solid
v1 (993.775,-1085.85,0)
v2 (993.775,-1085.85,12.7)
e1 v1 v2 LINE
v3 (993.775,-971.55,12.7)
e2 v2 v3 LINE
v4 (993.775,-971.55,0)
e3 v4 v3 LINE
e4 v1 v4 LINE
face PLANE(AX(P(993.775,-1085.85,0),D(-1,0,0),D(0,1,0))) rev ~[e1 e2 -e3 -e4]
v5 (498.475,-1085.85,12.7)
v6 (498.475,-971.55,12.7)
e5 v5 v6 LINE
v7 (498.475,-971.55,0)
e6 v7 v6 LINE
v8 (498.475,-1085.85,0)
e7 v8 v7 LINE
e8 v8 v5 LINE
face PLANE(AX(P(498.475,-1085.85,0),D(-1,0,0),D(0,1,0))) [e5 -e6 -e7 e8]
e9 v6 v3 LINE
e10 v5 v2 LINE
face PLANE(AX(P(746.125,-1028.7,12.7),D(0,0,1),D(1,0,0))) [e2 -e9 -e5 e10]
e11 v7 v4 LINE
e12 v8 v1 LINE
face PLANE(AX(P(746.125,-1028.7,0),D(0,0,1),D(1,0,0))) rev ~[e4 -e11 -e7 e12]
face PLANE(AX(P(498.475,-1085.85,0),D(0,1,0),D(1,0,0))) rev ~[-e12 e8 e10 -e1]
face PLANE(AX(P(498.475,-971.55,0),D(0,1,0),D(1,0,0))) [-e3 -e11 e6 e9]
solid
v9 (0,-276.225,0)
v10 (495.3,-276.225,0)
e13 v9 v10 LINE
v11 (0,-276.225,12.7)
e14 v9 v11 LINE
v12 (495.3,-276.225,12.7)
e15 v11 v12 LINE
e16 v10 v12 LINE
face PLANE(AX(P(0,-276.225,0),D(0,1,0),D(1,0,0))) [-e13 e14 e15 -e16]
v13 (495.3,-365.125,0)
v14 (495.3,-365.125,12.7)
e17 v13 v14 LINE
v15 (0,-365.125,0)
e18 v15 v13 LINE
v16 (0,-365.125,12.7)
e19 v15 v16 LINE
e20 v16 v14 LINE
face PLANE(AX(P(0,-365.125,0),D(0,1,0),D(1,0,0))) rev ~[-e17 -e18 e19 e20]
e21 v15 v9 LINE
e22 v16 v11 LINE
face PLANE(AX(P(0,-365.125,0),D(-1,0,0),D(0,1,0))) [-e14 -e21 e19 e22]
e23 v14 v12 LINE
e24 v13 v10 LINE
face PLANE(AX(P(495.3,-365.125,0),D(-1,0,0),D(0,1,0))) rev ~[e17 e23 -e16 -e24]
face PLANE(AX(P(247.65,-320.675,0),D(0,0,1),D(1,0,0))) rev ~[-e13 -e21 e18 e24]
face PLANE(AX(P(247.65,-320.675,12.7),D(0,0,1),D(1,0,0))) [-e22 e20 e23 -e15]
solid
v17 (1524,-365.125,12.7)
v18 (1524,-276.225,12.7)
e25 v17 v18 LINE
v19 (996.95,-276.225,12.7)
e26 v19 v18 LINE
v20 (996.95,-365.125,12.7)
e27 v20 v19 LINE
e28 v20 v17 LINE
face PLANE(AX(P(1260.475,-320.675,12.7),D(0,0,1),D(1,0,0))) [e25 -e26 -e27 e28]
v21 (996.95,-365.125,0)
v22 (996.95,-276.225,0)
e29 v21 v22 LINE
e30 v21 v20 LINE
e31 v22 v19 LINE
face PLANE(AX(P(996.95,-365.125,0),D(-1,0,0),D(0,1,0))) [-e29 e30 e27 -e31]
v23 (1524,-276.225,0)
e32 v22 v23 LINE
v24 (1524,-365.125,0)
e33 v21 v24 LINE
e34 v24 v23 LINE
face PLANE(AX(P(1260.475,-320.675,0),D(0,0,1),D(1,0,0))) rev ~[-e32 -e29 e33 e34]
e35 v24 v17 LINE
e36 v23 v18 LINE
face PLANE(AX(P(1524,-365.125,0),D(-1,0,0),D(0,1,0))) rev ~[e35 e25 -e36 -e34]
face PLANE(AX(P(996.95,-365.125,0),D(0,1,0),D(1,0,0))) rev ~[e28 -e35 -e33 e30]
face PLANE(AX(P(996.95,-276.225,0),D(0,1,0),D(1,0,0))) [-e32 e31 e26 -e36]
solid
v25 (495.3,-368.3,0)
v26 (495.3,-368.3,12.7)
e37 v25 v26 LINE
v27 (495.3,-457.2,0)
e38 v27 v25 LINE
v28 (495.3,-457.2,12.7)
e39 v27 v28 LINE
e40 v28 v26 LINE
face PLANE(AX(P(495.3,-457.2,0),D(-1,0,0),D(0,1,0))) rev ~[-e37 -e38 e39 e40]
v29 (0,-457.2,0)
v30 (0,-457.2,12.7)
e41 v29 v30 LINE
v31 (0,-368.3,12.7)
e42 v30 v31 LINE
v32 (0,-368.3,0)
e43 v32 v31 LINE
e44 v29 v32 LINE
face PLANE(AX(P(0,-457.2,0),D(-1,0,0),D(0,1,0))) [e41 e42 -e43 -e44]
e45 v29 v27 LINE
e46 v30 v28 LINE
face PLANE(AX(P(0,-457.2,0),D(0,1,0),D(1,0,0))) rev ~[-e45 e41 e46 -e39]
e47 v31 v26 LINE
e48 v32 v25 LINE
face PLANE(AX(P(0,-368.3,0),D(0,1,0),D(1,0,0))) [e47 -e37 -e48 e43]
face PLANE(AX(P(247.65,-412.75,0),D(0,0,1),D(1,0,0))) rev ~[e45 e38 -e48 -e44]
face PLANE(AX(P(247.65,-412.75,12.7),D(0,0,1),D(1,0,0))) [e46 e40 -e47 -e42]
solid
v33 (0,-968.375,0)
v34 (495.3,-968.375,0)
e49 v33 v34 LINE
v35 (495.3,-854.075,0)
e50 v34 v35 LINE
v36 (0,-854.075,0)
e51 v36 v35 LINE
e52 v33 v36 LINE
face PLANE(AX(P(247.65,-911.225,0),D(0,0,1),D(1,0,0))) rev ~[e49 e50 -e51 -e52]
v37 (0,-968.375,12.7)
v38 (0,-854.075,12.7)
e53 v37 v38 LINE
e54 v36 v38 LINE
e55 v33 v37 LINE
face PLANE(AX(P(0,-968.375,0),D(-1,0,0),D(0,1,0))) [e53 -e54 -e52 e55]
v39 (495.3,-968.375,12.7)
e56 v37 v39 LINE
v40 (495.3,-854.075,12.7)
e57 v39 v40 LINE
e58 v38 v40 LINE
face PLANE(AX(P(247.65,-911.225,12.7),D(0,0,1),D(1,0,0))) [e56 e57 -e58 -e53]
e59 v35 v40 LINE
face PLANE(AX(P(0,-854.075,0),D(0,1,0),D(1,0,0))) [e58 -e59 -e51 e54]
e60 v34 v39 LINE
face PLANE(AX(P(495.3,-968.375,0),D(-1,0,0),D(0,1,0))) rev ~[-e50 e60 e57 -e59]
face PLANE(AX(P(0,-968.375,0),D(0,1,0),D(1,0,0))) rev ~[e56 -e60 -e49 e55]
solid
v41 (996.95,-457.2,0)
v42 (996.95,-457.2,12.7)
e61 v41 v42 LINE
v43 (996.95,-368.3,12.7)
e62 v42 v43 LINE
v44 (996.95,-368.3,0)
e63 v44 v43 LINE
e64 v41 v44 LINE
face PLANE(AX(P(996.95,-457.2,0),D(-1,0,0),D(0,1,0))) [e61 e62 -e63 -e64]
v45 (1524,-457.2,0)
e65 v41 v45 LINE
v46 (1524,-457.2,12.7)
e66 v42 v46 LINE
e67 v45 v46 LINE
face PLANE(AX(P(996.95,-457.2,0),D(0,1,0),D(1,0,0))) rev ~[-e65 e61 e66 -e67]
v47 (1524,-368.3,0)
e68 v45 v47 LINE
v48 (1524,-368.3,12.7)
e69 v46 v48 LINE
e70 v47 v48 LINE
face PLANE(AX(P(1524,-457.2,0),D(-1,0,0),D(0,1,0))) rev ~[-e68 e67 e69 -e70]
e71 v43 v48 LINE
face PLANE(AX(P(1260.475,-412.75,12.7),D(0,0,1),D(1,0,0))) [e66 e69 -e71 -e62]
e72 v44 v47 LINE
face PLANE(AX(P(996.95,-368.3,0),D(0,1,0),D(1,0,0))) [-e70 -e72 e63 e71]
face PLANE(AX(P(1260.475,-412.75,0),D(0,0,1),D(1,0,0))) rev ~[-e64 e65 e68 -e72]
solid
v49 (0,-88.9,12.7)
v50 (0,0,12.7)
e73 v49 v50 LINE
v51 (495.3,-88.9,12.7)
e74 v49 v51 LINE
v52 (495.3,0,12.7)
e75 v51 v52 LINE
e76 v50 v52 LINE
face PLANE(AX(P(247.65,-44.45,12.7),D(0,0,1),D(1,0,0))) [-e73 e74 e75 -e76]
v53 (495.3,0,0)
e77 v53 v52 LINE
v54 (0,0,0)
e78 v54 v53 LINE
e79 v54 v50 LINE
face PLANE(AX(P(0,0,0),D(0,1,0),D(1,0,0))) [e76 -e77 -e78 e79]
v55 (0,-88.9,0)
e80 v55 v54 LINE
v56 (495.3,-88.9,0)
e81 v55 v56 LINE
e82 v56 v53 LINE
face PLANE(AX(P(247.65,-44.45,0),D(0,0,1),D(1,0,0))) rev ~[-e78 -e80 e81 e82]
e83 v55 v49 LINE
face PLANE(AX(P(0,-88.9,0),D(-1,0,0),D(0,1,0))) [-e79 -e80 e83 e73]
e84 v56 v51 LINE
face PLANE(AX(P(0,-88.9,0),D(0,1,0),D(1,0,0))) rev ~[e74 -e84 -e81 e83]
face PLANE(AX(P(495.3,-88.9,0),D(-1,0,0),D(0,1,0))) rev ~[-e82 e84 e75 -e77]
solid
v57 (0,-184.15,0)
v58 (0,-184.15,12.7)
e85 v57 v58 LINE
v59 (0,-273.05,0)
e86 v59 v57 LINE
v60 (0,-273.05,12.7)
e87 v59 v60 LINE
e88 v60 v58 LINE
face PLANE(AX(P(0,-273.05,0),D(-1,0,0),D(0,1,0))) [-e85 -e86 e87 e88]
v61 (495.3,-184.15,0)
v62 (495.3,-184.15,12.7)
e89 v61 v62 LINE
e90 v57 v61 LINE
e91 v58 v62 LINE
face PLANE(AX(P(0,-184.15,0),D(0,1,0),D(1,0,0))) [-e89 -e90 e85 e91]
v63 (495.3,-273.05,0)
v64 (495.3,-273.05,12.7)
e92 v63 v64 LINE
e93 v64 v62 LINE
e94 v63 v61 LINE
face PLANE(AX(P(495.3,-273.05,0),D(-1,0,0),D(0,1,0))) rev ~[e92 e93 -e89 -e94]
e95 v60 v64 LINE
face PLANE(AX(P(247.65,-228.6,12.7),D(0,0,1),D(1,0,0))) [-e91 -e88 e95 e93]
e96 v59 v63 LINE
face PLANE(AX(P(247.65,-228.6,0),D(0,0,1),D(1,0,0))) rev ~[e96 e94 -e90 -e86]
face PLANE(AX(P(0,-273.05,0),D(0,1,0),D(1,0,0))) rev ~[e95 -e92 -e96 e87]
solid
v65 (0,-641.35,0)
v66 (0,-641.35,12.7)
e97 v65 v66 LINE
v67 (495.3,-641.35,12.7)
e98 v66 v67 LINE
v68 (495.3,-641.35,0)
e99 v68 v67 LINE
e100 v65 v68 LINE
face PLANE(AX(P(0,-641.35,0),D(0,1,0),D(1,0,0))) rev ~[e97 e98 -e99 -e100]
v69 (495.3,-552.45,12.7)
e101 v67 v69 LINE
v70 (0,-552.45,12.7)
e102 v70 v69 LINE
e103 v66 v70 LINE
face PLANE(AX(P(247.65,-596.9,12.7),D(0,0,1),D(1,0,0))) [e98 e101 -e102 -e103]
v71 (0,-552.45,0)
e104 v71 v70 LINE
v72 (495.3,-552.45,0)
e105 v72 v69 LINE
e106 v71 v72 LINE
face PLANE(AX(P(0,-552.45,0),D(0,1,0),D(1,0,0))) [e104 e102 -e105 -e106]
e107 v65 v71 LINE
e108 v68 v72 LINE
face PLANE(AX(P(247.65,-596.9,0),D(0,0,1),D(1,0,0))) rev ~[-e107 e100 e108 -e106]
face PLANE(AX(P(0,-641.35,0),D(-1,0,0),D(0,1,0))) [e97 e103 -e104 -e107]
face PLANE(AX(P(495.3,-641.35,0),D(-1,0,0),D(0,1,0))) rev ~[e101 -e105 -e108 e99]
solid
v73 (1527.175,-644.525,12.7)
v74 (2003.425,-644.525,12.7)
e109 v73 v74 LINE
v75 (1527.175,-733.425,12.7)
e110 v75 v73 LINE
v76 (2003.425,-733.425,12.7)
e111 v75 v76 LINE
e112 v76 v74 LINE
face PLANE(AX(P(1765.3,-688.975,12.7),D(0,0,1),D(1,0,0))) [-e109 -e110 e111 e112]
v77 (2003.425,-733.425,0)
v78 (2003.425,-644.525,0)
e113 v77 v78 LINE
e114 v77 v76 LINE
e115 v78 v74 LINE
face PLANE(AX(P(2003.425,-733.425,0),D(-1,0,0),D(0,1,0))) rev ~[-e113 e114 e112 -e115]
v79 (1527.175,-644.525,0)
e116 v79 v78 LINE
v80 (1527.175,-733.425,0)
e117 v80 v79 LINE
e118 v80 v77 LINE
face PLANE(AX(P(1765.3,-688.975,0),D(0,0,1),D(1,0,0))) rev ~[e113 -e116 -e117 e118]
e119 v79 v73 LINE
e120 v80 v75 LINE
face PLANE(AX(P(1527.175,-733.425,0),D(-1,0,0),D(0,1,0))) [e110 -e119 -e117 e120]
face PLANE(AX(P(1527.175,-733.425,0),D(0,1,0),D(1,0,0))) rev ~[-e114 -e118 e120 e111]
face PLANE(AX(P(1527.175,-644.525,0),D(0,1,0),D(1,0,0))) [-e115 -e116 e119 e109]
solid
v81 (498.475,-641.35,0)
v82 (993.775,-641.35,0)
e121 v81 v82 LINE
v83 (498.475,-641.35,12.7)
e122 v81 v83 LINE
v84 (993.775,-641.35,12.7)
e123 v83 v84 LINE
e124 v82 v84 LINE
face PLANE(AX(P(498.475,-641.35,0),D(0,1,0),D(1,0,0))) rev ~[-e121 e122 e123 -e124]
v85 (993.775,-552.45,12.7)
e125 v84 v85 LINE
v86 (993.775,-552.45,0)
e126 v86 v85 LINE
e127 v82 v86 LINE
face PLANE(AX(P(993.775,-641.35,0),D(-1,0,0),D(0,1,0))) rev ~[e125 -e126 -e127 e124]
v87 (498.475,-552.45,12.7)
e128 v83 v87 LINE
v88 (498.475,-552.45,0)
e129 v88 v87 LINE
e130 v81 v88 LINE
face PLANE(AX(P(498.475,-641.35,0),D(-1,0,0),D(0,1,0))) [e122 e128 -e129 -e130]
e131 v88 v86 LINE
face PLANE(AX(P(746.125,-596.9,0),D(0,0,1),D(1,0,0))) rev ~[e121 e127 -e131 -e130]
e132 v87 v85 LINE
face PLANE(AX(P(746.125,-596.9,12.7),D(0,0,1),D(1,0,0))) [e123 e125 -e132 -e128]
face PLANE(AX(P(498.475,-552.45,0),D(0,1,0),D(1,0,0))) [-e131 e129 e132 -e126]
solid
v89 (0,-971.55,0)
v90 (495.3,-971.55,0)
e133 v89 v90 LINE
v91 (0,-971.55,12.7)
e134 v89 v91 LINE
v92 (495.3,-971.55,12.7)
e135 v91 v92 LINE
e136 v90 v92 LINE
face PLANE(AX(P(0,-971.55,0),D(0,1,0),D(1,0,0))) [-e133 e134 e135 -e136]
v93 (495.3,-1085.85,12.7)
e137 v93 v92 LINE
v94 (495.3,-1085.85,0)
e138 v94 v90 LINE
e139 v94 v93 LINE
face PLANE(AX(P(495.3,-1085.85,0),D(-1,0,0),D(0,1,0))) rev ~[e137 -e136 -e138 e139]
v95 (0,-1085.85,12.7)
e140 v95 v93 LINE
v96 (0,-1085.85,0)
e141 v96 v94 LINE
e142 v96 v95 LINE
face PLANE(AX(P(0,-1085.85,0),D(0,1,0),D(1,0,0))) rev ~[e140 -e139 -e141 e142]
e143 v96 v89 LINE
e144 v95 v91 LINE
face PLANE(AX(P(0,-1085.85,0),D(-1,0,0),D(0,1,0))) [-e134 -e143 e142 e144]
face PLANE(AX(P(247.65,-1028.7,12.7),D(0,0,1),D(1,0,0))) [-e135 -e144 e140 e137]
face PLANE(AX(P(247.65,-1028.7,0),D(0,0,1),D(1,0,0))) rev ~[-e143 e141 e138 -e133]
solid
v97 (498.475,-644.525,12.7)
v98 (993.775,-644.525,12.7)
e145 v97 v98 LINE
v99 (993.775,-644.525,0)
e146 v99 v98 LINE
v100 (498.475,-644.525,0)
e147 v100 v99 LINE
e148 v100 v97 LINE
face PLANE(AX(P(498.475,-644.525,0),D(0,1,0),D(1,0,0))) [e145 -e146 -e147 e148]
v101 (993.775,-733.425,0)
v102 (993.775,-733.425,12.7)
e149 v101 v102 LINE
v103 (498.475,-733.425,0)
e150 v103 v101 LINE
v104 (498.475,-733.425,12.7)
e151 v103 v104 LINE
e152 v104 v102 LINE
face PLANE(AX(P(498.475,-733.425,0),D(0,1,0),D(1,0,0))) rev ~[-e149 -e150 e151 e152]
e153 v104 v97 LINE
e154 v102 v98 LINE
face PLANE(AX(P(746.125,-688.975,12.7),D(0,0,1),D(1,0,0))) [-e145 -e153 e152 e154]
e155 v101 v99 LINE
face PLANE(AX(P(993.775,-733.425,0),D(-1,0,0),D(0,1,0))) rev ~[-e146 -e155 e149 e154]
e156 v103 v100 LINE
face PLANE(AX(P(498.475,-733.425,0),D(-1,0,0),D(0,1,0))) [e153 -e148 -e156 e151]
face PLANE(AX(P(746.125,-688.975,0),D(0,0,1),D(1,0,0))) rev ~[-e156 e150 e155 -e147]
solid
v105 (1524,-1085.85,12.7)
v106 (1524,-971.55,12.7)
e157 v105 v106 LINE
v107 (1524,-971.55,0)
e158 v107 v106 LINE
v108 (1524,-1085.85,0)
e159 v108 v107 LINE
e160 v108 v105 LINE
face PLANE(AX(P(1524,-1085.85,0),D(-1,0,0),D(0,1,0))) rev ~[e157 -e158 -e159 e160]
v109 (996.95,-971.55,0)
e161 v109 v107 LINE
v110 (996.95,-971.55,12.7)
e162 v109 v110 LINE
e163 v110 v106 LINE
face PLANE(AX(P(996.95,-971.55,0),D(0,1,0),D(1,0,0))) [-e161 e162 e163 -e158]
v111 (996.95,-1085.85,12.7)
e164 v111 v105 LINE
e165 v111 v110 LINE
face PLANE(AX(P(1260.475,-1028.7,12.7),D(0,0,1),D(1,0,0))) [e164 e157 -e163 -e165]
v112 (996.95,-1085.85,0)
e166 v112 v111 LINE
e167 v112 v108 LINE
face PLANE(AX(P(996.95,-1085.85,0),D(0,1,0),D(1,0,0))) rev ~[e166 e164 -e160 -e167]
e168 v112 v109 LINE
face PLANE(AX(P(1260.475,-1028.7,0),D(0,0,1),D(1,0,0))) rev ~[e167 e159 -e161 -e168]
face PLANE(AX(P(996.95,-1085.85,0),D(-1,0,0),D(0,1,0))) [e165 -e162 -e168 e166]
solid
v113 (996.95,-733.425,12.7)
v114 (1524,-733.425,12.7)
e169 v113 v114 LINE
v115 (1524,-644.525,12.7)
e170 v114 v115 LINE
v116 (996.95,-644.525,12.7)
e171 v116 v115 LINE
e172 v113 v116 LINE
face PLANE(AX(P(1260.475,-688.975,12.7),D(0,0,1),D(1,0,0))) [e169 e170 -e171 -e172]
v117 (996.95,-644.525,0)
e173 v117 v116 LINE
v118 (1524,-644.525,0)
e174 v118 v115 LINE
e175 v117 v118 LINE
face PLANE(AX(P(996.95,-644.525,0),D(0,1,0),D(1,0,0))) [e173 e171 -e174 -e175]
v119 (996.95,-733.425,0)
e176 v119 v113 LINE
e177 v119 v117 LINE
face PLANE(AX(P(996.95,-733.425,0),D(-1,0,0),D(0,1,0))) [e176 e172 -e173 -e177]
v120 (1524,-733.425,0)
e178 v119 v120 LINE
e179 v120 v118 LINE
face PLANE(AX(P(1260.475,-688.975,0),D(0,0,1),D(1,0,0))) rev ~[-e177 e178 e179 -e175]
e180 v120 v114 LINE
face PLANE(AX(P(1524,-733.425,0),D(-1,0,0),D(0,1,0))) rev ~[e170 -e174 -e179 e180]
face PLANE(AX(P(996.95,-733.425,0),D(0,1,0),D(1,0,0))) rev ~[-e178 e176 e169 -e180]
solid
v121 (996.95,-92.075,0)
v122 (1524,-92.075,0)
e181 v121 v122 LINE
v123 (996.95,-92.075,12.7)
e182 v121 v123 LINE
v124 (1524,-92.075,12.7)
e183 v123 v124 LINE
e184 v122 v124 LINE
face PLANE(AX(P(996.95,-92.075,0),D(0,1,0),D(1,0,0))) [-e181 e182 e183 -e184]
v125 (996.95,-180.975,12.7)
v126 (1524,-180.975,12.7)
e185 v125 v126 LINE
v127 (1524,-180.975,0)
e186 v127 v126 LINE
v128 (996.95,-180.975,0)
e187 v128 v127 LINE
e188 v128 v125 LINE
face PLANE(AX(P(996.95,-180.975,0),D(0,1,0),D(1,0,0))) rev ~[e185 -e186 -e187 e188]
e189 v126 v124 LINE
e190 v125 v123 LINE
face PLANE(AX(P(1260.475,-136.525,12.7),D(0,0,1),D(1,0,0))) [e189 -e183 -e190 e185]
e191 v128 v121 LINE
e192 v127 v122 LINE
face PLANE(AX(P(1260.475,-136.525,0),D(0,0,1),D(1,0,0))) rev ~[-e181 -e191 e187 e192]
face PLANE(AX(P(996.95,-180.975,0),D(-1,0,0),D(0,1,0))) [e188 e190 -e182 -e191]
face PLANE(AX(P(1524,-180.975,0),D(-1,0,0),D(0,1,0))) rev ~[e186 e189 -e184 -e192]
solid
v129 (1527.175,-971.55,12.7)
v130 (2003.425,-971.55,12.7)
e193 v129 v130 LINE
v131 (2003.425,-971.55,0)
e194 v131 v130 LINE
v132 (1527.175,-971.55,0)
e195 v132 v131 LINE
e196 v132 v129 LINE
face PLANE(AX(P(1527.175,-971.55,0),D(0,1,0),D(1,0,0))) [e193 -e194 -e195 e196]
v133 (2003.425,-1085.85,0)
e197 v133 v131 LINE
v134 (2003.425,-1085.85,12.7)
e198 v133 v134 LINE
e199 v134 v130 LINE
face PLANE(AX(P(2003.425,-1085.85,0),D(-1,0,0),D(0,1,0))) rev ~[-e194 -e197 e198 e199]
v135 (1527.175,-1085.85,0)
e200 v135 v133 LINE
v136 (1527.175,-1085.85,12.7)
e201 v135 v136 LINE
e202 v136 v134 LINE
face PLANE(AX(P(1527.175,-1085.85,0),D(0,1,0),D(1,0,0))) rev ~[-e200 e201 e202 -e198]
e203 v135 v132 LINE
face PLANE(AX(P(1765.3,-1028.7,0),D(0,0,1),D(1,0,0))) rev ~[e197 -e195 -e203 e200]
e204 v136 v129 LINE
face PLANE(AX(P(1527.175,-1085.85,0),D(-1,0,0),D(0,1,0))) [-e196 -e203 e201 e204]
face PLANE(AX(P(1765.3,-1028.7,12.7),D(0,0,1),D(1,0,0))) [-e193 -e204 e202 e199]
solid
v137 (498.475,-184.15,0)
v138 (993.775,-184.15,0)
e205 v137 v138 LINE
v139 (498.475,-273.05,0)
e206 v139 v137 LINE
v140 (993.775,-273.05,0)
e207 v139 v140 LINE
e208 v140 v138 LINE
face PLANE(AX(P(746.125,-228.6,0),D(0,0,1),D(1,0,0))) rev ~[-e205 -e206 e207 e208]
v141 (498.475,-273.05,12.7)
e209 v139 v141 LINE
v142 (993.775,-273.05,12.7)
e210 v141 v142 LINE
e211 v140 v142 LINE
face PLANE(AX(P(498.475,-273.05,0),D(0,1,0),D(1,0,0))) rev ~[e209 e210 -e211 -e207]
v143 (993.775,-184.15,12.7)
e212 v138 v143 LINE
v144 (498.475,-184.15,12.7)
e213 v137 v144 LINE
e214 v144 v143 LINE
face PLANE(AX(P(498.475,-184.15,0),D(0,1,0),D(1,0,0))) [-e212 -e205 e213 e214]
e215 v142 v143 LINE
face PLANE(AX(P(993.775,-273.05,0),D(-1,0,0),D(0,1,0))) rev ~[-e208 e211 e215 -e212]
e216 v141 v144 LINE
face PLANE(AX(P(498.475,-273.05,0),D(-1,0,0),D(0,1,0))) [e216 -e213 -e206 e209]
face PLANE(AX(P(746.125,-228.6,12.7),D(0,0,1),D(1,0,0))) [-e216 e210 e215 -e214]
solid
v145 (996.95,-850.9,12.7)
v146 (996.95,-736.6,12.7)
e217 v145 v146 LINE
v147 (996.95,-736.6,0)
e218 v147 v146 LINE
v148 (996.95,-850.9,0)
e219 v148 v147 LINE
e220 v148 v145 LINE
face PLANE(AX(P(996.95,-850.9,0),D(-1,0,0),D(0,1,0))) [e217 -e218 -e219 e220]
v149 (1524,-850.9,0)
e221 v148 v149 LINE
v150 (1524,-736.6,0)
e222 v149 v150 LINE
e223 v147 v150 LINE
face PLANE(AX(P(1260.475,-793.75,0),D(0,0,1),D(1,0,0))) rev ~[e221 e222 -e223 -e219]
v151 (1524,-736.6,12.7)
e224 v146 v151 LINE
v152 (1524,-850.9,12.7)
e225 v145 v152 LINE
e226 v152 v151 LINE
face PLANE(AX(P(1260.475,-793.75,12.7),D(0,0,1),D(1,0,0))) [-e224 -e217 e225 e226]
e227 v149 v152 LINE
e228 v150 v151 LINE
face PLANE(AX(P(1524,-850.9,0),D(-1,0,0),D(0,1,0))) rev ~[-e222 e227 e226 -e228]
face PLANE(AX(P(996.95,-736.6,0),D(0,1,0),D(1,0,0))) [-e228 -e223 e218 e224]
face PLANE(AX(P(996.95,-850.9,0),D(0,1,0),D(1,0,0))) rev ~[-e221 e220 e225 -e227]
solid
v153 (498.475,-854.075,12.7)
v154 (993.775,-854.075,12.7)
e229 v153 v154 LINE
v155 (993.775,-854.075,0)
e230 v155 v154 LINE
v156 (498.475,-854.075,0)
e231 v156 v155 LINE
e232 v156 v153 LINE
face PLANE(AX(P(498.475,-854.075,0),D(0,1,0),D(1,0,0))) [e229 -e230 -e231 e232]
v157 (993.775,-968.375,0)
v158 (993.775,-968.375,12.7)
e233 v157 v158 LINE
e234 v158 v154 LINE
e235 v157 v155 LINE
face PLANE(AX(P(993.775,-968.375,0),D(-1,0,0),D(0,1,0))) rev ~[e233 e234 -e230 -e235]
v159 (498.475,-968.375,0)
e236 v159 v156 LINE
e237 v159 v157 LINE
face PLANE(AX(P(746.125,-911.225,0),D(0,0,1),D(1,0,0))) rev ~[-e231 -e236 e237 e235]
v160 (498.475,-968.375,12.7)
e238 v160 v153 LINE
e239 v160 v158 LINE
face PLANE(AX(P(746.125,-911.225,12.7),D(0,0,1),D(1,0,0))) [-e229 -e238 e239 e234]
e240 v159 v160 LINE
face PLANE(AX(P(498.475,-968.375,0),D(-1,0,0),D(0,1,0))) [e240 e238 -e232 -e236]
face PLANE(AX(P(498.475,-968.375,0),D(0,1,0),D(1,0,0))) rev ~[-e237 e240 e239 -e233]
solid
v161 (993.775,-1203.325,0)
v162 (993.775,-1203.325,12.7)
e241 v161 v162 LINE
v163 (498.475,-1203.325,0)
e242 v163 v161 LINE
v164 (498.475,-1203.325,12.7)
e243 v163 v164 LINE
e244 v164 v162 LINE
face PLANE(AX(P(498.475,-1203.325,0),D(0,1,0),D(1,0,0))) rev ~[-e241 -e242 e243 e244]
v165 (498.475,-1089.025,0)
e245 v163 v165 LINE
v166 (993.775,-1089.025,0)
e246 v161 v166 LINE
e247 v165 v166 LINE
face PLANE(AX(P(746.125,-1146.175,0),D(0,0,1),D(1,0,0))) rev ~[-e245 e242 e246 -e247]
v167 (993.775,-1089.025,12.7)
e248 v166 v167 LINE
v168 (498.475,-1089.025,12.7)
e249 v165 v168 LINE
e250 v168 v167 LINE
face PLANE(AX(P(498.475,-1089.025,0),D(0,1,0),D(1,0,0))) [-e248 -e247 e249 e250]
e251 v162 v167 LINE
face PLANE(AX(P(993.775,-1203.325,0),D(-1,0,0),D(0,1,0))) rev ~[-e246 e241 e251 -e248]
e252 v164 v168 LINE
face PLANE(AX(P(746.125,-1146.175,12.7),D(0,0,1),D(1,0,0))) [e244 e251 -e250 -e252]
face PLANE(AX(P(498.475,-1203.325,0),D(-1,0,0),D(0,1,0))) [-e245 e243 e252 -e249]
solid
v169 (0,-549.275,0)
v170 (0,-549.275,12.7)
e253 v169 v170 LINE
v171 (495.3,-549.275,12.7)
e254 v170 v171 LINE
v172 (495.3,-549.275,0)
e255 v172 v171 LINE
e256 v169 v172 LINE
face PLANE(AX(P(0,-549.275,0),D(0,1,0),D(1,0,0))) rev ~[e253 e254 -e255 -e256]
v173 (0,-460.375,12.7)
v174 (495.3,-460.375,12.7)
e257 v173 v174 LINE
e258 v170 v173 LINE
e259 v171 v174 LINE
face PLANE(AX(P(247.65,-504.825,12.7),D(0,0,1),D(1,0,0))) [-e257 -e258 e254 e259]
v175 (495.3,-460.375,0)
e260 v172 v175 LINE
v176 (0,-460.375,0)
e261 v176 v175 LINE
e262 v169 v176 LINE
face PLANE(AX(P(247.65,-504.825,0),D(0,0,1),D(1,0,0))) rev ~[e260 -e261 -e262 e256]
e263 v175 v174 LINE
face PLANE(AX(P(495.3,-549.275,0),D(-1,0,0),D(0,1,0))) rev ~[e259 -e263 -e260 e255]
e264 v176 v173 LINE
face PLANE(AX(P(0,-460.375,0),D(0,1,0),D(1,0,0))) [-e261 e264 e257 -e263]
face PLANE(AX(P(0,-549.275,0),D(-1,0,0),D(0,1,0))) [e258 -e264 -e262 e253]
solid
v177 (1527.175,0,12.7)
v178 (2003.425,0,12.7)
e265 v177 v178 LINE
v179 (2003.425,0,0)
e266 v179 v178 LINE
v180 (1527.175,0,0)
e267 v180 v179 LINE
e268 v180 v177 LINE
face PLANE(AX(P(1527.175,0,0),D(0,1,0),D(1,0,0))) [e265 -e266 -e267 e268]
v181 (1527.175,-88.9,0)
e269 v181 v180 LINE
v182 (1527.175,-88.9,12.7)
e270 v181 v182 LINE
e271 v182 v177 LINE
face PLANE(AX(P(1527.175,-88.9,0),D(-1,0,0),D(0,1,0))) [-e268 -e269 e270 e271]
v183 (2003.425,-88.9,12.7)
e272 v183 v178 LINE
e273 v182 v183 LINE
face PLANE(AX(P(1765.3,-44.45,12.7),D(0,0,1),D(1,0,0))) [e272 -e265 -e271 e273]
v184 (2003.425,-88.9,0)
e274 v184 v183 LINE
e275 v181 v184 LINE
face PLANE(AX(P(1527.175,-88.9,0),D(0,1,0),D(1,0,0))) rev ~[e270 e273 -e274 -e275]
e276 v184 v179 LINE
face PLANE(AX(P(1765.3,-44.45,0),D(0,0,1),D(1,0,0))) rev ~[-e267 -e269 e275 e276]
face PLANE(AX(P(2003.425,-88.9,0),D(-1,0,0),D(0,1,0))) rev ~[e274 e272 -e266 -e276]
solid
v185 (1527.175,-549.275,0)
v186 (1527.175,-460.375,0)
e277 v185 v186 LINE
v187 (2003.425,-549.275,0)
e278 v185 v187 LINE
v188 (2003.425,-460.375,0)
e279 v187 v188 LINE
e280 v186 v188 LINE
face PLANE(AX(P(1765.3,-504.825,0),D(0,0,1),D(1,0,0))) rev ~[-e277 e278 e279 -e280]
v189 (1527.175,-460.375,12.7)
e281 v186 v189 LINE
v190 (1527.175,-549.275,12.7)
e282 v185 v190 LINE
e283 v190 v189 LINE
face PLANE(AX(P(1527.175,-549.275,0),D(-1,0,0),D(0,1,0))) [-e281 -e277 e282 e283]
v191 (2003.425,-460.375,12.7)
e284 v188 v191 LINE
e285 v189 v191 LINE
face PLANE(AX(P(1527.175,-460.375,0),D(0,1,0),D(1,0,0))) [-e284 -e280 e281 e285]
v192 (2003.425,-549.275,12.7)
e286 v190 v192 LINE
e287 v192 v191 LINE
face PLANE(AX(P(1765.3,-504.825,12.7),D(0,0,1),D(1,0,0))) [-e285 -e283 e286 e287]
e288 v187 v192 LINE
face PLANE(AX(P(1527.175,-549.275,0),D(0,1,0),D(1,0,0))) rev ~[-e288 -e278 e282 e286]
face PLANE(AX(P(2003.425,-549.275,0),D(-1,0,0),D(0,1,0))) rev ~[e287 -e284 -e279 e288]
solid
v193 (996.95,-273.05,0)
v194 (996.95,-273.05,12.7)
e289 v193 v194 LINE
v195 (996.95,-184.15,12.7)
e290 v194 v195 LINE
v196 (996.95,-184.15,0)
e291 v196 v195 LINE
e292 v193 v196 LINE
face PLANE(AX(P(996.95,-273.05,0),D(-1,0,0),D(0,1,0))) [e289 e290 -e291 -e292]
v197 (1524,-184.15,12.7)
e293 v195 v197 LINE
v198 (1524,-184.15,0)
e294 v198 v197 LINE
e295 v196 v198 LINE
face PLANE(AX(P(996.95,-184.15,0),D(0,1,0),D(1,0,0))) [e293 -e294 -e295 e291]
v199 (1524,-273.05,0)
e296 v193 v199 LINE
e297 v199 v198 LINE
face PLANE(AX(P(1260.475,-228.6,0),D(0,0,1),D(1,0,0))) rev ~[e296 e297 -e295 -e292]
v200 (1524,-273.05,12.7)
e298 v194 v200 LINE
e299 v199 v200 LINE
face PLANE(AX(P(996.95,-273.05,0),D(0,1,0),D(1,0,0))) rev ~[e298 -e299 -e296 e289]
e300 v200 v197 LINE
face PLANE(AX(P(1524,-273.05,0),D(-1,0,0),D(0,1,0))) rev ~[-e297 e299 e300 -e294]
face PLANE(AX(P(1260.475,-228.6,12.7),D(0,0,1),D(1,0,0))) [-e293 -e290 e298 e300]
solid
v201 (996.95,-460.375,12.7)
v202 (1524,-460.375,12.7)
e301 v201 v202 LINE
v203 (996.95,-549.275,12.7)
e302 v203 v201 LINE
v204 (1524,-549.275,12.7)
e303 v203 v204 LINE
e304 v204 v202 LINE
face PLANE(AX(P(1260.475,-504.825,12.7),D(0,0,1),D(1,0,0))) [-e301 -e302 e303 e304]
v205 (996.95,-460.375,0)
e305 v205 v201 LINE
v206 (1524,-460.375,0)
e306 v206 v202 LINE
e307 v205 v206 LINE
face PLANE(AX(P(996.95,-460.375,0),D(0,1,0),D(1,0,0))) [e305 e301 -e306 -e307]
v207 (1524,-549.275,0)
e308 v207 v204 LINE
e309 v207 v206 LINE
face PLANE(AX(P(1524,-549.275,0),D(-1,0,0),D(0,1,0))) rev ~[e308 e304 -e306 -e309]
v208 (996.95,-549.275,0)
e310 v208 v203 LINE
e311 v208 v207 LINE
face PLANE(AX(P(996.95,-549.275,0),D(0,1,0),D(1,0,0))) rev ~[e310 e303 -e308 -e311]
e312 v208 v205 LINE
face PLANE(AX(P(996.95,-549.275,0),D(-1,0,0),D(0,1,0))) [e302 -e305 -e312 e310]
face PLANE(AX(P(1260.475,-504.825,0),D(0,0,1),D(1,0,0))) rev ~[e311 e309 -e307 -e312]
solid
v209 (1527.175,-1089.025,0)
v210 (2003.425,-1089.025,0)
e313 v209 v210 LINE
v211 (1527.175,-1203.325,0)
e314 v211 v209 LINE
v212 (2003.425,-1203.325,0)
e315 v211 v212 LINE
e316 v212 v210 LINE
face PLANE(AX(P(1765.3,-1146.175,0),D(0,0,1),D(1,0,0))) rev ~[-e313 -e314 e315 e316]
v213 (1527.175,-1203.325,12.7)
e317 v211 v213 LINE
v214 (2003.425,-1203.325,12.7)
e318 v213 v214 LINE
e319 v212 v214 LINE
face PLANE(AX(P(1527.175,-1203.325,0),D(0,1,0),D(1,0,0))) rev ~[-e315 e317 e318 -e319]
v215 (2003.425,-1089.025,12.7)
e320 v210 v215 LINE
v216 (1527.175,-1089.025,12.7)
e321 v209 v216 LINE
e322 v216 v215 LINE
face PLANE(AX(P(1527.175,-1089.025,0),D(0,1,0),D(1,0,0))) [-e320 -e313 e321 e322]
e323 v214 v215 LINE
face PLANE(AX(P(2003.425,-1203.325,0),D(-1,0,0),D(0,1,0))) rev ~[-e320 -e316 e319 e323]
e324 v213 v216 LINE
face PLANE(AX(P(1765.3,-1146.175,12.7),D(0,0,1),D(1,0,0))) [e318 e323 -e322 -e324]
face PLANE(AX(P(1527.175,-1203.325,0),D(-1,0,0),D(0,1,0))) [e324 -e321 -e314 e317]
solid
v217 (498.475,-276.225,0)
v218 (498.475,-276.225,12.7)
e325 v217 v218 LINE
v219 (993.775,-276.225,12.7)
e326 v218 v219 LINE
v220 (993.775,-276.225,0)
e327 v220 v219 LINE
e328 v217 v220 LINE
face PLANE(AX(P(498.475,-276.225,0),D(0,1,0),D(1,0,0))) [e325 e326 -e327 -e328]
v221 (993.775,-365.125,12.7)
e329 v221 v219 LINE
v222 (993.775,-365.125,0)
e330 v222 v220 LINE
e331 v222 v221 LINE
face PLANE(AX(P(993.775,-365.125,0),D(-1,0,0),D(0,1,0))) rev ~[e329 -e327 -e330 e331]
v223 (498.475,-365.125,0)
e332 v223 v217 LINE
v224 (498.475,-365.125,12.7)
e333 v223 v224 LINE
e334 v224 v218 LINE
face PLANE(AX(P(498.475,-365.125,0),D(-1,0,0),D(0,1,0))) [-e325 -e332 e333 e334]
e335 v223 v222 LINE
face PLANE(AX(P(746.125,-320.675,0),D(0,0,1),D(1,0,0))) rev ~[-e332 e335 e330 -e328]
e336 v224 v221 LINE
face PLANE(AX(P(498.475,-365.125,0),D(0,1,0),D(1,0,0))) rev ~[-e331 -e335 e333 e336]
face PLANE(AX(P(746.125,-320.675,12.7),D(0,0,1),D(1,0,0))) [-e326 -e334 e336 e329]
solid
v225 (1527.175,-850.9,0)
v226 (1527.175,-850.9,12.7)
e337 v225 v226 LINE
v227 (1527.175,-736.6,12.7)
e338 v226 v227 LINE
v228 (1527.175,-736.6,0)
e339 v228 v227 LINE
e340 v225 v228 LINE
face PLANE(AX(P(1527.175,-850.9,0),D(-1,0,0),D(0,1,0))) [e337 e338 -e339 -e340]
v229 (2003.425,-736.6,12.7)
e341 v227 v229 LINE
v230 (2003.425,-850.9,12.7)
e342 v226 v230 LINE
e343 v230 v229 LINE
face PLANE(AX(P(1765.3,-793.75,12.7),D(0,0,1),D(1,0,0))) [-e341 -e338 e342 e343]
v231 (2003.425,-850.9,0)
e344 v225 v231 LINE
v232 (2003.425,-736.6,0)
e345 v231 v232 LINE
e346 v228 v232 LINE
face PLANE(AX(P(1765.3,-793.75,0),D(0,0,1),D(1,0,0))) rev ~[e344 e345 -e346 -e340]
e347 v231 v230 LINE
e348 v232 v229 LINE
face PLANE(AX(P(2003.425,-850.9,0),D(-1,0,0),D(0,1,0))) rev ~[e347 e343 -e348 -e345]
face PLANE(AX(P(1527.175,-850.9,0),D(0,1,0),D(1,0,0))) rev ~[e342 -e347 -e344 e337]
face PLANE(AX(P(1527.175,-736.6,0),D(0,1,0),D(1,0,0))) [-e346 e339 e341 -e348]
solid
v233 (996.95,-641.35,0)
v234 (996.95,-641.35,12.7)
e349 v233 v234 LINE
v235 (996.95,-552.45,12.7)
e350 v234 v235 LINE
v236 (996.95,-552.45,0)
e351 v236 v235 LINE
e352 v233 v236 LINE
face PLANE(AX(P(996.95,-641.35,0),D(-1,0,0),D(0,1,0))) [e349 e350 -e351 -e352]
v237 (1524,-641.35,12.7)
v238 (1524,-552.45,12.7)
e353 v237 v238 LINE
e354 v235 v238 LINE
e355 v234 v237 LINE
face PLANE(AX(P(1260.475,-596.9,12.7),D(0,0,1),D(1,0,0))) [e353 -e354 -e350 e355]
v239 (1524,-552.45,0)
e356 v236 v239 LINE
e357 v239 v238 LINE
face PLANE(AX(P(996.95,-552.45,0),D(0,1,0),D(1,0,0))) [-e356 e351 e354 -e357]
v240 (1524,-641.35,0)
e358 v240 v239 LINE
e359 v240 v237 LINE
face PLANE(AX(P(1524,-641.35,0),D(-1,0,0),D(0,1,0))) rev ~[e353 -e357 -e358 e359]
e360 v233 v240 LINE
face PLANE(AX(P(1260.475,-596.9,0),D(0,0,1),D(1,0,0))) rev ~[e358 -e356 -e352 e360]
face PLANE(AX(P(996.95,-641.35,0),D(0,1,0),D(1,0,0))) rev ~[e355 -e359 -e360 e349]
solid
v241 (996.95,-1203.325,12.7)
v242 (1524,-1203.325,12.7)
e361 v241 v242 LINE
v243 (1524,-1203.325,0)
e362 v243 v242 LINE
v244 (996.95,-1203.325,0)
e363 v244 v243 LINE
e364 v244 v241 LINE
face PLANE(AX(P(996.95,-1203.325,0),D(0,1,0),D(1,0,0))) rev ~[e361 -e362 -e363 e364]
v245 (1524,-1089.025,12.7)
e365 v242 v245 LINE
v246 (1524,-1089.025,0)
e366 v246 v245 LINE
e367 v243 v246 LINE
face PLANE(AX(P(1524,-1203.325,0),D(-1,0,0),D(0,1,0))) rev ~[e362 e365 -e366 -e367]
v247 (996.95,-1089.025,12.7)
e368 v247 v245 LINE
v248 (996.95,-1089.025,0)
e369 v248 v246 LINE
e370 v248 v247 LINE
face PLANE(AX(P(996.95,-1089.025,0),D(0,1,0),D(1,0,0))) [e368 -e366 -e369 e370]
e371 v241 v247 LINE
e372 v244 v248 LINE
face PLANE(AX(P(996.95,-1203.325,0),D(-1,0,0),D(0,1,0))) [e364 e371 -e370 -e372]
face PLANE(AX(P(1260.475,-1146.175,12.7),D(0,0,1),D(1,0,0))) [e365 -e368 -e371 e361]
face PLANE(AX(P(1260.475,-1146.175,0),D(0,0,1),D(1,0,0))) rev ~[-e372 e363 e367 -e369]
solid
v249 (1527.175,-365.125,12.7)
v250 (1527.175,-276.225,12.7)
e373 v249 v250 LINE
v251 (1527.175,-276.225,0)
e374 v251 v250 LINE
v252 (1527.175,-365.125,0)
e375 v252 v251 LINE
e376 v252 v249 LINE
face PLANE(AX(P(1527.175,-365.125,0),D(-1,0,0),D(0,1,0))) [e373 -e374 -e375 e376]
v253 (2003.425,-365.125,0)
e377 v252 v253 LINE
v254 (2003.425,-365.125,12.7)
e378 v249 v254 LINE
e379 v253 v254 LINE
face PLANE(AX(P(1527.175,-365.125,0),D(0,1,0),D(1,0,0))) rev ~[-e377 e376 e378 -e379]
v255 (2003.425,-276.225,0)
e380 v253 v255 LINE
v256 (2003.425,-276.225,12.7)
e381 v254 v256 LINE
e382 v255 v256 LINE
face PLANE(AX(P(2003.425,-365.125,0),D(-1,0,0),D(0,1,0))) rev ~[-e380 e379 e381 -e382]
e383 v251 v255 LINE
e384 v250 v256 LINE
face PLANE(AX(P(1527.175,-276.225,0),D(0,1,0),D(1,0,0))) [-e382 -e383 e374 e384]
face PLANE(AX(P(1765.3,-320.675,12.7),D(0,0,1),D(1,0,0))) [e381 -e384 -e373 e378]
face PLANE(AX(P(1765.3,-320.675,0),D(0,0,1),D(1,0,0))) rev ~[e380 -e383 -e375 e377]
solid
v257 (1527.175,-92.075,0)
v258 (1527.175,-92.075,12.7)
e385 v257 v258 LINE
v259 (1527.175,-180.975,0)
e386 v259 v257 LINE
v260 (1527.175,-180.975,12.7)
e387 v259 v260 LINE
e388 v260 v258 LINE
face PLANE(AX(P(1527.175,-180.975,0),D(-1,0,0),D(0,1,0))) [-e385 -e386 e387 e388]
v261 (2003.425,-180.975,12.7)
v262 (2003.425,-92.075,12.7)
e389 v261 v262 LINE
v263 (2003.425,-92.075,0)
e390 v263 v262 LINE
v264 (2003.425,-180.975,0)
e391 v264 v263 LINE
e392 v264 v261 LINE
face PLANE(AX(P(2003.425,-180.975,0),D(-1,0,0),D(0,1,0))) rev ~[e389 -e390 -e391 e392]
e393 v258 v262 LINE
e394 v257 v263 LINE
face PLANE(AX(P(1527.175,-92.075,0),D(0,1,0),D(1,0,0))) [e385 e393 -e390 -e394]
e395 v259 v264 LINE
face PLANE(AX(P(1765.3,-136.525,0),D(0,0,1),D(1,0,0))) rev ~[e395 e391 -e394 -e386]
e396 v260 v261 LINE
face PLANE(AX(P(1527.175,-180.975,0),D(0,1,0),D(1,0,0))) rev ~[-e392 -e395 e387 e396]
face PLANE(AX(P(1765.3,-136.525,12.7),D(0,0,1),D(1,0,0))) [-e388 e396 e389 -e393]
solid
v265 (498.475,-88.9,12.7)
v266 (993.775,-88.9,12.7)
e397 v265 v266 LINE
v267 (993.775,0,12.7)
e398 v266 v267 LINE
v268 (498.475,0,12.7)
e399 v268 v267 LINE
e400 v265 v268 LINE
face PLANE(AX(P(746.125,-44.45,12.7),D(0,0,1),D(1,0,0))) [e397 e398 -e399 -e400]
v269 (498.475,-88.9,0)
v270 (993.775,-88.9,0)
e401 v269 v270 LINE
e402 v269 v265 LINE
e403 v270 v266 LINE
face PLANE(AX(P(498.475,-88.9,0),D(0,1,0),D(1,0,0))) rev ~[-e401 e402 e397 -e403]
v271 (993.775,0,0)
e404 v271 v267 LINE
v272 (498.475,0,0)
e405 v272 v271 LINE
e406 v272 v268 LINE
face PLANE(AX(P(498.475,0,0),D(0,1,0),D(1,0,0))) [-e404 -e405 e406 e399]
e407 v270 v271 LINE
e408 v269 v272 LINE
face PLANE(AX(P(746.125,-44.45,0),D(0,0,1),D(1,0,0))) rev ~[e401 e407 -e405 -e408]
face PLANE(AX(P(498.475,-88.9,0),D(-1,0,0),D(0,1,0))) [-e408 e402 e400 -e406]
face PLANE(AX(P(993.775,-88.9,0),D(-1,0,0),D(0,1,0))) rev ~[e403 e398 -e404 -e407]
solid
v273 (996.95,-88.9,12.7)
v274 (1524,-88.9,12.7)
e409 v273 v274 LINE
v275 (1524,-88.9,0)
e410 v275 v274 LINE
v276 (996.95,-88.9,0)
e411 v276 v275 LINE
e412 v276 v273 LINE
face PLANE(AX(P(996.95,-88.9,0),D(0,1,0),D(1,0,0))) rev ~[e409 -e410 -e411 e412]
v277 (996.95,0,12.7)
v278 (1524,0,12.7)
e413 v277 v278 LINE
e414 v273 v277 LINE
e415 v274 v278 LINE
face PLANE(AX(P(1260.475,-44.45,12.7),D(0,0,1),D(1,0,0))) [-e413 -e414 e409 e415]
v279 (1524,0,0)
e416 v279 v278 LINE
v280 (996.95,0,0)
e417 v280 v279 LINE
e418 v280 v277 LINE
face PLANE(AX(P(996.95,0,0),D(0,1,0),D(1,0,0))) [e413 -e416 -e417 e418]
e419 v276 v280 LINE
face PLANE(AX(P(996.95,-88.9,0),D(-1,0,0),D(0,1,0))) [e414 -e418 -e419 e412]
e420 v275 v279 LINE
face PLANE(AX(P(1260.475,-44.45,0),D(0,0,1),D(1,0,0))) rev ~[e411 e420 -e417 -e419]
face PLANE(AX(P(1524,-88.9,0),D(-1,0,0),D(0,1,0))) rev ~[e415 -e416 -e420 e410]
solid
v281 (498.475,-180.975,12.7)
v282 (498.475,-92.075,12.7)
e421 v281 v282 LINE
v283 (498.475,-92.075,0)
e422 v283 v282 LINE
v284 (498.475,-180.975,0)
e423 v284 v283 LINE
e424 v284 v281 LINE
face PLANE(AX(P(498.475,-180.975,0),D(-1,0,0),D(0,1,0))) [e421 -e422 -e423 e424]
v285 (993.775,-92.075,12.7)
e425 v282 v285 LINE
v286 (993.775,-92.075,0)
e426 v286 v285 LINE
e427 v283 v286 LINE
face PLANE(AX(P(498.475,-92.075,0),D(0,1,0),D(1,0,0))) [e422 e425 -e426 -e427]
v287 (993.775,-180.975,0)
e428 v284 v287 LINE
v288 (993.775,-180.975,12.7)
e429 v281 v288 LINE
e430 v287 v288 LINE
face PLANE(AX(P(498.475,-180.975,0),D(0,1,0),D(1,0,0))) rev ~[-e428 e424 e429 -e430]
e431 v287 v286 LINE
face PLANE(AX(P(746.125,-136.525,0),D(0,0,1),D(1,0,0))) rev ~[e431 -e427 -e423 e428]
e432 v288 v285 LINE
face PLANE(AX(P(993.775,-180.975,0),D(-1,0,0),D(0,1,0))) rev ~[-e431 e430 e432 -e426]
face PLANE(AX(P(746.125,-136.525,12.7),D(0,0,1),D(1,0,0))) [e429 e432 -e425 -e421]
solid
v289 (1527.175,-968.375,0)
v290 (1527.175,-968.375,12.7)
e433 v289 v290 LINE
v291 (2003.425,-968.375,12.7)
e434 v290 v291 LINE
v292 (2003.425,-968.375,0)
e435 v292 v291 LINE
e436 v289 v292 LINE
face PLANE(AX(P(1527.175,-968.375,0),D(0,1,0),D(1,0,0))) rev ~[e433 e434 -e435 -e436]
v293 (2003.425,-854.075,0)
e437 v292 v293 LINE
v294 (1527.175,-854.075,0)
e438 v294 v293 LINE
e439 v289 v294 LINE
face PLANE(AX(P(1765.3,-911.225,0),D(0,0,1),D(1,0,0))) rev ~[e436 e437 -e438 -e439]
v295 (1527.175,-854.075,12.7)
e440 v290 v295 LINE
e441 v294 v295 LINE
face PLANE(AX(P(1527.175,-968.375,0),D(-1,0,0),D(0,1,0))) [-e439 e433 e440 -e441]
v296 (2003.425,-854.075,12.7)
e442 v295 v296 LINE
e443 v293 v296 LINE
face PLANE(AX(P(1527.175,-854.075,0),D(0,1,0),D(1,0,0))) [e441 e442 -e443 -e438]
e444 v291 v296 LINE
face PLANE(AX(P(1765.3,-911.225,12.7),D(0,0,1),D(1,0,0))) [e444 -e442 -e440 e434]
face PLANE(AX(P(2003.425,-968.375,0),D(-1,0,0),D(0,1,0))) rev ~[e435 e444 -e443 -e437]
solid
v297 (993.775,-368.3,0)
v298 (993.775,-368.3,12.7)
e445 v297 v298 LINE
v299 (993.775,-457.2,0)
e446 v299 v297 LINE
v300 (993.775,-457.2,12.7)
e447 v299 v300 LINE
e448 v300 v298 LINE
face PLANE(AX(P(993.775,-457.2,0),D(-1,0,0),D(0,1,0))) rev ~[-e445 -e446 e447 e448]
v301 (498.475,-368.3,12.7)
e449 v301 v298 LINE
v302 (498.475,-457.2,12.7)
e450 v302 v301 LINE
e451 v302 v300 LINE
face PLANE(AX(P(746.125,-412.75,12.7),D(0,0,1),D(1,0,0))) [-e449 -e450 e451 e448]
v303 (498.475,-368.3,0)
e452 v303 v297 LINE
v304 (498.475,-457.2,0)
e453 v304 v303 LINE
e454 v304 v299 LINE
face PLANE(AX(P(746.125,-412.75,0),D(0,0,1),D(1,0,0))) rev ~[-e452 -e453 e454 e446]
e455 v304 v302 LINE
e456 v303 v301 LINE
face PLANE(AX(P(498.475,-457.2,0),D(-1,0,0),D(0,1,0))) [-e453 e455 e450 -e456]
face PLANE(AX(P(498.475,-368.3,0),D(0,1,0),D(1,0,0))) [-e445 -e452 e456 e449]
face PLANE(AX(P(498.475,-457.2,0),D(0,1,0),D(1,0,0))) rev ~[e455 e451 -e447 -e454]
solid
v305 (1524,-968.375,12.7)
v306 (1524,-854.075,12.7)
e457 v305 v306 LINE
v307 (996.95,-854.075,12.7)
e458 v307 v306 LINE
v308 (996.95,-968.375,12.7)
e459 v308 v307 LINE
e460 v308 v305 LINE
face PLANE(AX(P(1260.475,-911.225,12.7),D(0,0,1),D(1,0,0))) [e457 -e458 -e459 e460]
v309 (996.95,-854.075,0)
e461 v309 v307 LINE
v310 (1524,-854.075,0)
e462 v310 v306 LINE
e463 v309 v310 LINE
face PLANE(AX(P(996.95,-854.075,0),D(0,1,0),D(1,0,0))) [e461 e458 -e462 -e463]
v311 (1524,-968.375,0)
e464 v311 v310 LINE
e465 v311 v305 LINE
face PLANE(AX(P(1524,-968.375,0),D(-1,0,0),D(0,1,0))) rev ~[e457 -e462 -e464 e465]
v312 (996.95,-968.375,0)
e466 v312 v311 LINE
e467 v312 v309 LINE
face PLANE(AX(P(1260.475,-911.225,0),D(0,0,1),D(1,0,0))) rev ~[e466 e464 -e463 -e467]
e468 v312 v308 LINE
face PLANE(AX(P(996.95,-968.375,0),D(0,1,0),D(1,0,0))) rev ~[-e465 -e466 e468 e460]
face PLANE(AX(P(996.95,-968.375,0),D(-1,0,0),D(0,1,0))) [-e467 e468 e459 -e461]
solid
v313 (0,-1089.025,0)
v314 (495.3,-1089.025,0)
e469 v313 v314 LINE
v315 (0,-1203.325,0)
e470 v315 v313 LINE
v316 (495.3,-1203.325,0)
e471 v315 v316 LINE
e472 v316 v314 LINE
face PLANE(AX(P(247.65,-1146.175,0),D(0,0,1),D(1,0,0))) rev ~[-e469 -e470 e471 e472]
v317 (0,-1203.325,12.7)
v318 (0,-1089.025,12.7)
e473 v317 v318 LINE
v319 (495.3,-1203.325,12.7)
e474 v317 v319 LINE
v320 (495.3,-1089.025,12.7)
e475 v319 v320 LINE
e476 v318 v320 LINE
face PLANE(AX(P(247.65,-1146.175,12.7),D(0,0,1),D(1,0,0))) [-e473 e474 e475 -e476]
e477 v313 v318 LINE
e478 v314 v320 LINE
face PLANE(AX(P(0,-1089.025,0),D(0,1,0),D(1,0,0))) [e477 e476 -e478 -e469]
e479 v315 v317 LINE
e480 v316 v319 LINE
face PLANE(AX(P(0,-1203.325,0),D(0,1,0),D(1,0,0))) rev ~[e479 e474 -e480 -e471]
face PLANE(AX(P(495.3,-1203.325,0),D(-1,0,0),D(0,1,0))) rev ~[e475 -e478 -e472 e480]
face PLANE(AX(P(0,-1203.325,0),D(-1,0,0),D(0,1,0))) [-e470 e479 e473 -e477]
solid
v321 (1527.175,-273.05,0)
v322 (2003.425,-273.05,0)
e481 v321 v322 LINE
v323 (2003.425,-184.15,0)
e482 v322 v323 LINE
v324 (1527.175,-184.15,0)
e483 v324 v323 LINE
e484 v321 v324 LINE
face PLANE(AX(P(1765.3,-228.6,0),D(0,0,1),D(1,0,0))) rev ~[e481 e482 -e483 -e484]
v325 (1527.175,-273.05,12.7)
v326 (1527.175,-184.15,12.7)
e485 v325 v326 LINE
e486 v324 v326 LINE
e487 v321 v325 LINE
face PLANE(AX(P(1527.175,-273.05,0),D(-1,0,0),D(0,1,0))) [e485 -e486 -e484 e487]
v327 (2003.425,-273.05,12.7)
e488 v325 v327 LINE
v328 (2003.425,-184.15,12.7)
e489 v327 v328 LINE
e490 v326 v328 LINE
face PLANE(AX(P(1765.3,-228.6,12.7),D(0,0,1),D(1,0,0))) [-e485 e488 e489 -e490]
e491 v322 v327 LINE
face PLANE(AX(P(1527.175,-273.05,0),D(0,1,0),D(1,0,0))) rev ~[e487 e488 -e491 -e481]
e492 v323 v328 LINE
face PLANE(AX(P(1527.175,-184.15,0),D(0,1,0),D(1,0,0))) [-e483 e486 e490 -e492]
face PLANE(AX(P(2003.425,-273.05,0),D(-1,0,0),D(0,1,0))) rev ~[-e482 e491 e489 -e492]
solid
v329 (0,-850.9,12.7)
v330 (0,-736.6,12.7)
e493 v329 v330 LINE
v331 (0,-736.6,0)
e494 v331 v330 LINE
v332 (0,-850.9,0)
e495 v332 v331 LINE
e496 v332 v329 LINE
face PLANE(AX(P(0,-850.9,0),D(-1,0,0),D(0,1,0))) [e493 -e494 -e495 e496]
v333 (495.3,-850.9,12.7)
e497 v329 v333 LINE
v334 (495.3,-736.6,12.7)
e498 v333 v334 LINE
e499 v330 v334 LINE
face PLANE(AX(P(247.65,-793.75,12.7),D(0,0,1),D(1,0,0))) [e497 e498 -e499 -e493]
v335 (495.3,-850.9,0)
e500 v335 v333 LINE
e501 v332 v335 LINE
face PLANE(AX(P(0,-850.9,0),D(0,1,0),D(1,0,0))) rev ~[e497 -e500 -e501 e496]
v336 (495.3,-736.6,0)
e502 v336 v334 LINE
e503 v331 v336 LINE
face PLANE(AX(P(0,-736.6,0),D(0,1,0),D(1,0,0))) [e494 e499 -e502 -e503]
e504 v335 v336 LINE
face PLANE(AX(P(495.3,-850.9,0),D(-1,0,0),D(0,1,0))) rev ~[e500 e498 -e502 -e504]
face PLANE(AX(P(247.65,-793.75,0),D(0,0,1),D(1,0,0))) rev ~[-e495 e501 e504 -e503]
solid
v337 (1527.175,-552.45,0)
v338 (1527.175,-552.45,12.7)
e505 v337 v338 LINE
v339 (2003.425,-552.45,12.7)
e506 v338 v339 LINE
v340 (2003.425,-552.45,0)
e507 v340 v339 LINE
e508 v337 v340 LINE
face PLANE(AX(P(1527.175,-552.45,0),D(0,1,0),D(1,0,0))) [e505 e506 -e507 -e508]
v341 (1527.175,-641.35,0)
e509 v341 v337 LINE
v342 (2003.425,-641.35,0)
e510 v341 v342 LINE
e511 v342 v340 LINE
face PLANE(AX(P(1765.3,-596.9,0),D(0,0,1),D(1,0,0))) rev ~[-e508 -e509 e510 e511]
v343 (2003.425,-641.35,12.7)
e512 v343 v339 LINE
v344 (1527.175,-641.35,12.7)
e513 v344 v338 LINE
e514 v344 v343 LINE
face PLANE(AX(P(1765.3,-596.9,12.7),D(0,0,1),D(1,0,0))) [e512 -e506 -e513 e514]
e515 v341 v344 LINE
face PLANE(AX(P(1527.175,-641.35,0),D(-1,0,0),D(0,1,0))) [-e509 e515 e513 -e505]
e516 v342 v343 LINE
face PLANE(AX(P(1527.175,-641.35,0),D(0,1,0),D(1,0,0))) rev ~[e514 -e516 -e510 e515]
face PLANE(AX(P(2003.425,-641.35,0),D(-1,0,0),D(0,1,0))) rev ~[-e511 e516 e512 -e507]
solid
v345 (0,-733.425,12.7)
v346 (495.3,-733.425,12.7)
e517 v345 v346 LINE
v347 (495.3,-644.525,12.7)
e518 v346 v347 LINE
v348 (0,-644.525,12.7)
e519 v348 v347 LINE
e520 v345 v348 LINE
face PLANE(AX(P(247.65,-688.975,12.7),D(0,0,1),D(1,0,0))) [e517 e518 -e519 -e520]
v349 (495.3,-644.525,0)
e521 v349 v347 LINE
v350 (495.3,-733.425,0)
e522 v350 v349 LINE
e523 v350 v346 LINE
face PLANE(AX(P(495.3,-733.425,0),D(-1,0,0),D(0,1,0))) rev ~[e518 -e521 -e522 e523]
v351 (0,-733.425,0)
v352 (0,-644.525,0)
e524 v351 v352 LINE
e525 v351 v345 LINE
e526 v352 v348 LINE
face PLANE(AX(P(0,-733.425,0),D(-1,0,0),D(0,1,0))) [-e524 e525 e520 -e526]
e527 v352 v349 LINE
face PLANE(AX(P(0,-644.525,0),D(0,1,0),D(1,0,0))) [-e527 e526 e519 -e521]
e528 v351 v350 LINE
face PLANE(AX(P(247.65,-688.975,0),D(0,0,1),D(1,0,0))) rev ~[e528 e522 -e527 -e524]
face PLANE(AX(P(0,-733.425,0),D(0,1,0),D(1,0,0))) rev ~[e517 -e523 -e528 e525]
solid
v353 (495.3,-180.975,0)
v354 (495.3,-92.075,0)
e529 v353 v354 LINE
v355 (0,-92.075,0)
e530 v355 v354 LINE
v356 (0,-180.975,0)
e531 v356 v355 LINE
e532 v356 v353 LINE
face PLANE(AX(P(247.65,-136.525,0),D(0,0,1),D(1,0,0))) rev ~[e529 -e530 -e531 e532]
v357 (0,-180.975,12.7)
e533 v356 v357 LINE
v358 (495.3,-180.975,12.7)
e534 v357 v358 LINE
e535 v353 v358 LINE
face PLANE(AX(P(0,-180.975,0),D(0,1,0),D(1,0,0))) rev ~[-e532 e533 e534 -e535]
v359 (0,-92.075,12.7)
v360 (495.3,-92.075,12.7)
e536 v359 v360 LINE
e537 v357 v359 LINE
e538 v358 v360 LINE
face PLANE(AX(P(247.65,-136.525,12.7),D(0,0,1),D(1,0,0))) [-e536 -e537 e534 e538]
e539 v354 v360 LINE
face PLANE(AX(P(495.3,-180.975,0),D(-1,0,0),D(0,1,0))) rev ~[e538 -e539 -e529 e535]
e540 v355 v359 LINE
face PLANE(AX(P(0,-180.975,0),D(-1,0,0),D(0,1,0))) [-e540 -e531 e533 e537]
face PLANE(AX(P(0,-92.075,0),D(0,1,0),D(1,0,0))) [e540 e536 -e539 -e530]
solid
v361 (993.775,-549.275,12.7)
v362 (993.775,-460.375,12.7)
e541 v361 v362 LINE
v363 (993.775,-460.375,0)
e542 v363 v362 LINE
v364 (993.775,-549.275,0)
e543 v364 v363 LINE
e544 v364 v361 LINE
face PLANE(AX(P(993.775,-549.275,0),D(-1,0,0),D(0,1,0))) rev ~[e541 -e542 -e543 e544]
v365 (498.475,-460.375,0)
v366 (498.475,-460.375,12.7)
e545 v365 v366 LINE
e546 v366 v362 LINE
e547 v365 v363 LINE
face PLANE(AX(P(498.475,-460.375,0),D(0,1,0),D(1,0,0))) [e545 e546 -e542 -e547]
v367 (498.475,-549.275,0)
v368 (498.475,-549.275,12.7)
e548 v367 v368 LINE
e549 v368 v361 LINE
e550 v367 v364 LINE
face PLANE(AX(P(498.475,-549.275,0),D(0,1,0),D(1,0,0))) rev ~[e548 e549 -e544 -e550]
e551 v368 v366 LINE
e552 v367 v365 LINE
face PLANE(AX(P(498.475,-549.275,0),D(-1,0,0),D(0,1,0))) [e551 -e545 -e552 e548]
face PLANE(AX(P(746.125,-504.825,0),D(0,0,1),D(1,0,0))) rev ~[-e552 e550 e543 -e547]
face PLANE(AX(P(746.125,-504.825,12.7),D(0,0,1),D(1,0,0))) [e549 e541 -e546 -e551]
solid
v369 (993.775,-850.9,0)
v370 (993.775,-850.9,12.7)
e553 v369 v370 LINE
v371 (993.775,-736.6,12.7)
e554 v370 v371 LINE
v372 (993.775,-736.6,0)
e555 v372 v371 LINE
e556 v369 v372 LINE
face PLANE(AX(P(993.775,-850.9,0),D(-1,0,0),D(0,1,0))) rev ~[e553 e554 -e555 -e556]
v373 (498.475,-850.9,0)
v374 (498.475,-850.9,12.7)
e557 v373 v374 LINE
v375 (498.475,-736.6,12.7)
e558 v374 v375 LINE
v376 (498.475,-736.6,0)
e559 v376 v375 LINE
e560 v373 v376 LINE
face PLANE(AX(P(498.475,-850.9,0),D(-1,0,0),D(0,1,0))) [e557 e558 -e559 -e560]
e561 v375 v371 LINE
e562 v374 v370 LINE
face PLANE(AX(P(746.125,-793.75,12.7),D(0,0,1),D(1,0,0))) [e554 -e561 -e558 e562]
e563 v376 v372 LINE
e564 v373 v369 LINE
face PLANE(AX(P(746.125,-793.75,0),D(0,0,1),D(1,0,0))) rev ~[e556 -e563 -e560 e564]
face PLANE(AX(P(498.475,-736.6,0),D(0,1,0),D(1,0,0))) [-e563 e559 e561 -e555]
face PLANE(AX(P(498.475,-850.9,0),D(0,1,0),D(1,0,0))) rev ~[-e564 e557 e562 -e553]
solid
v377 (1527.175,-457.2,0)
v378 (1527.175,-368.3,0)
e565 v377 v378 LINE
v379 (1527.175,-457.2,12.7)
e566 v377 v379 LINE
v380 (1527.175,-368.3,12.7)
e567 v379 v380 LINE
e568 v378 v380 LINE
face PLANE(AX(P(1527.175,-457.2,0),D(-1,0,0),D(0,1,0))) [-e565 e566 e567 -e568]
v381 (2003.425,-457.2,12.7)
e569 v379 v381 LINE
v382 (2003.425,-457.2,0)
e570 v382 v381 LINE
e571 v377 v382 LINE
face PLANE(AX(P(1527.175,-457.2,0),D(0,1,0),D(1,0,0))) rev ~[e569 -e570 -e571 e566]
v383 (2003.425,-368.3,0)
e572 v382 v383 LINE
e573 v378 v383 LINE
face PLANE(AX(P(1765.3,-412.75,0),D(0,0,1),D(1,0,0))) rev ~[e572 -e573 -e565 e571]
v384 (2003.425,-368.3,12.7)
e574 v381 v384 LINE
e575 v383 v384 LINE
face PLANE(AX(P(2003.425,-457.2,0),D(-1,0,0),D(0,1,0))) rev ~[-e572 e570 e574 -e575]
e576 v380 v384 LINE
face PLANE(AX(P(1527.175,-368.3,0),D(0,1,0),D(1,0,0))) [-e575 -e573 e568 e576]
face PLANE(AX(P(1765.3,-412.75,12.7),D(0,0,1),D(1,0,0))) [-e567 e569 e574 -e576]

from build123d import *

# Parameters (mm, degrees)
F0_W     = 495.3
F0_H     = 88.9
F0_W_2   = 527.05
F0_W_3   = 476.25
F0_H_2   = 114.3
F1_DEPTH = 12.7


with BuildPart() as f1:
    # F0 (on Top) → F1 (new body)
    with BuildSketch(Plane.XY):
        with Locations((247.65, -44.45)):
            Rectangle(F0_W, F0_H)
        with Locations((247.65, -136.525)):
            Rectangle(F0_W, F0_H)
        with Locations((247.65, -228.6)):
            Rectangle(F0_W, F0_H)
        with Locations((247.65, -320.675)):
            Rectangle(F0_W, F0_H)
        with Locations((247.65, -412.75)):
            Rectangle(F0_W, F0_H)
        with Locations((247.65, -504.825)):
            Rectangle(F0_W, F0_H)
        with Locations((247.65, -596.9)):
            Rectangle(F0_W, F0_H)
        with Locations((247.65, -688.975)):
            Rectangle(F0_W, F0_H)
        with Locations((746.125, -44.45)):
            Rectangle(F0_W, F0_H)
        with Locations((746.125, -136.525)):
            Rectangle(F0_W, F0_H)
        with Locations((746.125, -228.6)):
            Rectangle(F0_W, F0_H)
        with Locations((746.125, -320.675)):
            Rectangle(F0_W, F0_H)
        with Locations((746.125, -412.75)):
            Rectangle(F0_W, F0_H)
        with Locations((746.125, -504.825)):
            Rectangle(F0_W, F0_H)
        with Locations((746.125, -596.9)):
            Rectangle(F0_W, F0_H)
        with Locations((746.125, -688.975)):
            Rectangle(F0_W, F0_H)
        with Locations((1260.475, -44.45)):
            Rectangle(F0_W_2, F0_H)
        with Locations((1260.475, -136.525)):
            Rectangle(F0_W_2, F0_H)
        with Locations((1260.475, -228.6)):
            Rectangle(F0_W_2, F0_H)
        with Locations((1260.475, -320.675)):
            Rectangle(F0_W_2, F0_H)
        with Locations((1260.475, -412.75)):
            Rectangle(F0_W_2, F0_H)
        with Locations((1260.475, -504.825)):
            Rectangle(F0_W_2, F0_H)
        with Locations((1260.475, -596.9)):
            Rectangle(F0_W_2, F0_H)
        with Locations((1260.475, -688.975)):
            Rectangle(F0_W_2, F0_H)
        with Locations((1765.3, -44.45)):
            Rectangle(F0_W_3, F0_H)
        with Locations((1765.3, -136.525)):
            Rectangle(F0_W_3, F0_H)
        with Locations((1765.3, -228.6)):
            Rectangle(F0_W_3, F0_H)
        with Locations((1765.3, -320.675)):
            Rectangle(F0_W_3, F0_H)
        with Locations((1765.3, -412.75)):
            Rectangle(F0_W_3, F0_H)
        with Locations((1765.3, -504.825)):
            Rectangle(F0_W_3, F0_H)
        with Locations((1765.3, -596.9)):
            Rectangle(F0_W_3, F0_H)
        with Locations((1765.3, -688.975)):
            Rectangle(F0_W_3, F0_H)
        with Locations((247.65, -793.75)):
            Rectangle(F0_W, F0_H_2)
        with Locations((247.65, -911.225)):
            Rectangle(F0_W, F0_H_2)
        with Locations((247.65, -1028.7)):
            Rectangle(F0_W, F0_H_2)
        with Locations((247.65, -1146.175)):
            Rectangle(F0_W, F0_H_2)
        with Locations((746.125, -793.75)):
            Rectangle(F0_W, F0_H_2)
        with Locations((746.125, -911.225)):
            Rectangle(F0_W, F0_H_2)
        with Locations((746.125, -1028.7)):
            Rectangle(F0_W, F0_H_2)
        with Locations((746.125, -1146.175)):
            Rectangle(F0_W, F0_H_2)
        with Locations((1260.475, -793.75)):
            Rectangle(F0_W_2, F0_H_2)
        with Locations((1260.475, -911.225)):
            Rectangle(F0_W_2, F0_H_2)
        with Locations((1260.475, -1028.7)):
            Rectangle(F0_W_2, F0_H_2)
        with Locations((1260.475, -1146.175)):
            Rectangle(F0_W_2, F0_H_2)
        with Locations((1765.3, -793.75)):
            Rectangle(F0_W_3, F0_H_2)
        with Locations((1765.3, -911.225)):
            Rectangle(F0_W_3, F0_H_2)
        with Locations((1765.3, -1028.7)):
            Rectangle(F0_W_3, F0_H_2)
        with Locations((1765.3, -1146.175)):
            Rectangle(F0_W_3, F0_H_2)
    extrude(amount=F1_DEPTH)


solid = f1.part
